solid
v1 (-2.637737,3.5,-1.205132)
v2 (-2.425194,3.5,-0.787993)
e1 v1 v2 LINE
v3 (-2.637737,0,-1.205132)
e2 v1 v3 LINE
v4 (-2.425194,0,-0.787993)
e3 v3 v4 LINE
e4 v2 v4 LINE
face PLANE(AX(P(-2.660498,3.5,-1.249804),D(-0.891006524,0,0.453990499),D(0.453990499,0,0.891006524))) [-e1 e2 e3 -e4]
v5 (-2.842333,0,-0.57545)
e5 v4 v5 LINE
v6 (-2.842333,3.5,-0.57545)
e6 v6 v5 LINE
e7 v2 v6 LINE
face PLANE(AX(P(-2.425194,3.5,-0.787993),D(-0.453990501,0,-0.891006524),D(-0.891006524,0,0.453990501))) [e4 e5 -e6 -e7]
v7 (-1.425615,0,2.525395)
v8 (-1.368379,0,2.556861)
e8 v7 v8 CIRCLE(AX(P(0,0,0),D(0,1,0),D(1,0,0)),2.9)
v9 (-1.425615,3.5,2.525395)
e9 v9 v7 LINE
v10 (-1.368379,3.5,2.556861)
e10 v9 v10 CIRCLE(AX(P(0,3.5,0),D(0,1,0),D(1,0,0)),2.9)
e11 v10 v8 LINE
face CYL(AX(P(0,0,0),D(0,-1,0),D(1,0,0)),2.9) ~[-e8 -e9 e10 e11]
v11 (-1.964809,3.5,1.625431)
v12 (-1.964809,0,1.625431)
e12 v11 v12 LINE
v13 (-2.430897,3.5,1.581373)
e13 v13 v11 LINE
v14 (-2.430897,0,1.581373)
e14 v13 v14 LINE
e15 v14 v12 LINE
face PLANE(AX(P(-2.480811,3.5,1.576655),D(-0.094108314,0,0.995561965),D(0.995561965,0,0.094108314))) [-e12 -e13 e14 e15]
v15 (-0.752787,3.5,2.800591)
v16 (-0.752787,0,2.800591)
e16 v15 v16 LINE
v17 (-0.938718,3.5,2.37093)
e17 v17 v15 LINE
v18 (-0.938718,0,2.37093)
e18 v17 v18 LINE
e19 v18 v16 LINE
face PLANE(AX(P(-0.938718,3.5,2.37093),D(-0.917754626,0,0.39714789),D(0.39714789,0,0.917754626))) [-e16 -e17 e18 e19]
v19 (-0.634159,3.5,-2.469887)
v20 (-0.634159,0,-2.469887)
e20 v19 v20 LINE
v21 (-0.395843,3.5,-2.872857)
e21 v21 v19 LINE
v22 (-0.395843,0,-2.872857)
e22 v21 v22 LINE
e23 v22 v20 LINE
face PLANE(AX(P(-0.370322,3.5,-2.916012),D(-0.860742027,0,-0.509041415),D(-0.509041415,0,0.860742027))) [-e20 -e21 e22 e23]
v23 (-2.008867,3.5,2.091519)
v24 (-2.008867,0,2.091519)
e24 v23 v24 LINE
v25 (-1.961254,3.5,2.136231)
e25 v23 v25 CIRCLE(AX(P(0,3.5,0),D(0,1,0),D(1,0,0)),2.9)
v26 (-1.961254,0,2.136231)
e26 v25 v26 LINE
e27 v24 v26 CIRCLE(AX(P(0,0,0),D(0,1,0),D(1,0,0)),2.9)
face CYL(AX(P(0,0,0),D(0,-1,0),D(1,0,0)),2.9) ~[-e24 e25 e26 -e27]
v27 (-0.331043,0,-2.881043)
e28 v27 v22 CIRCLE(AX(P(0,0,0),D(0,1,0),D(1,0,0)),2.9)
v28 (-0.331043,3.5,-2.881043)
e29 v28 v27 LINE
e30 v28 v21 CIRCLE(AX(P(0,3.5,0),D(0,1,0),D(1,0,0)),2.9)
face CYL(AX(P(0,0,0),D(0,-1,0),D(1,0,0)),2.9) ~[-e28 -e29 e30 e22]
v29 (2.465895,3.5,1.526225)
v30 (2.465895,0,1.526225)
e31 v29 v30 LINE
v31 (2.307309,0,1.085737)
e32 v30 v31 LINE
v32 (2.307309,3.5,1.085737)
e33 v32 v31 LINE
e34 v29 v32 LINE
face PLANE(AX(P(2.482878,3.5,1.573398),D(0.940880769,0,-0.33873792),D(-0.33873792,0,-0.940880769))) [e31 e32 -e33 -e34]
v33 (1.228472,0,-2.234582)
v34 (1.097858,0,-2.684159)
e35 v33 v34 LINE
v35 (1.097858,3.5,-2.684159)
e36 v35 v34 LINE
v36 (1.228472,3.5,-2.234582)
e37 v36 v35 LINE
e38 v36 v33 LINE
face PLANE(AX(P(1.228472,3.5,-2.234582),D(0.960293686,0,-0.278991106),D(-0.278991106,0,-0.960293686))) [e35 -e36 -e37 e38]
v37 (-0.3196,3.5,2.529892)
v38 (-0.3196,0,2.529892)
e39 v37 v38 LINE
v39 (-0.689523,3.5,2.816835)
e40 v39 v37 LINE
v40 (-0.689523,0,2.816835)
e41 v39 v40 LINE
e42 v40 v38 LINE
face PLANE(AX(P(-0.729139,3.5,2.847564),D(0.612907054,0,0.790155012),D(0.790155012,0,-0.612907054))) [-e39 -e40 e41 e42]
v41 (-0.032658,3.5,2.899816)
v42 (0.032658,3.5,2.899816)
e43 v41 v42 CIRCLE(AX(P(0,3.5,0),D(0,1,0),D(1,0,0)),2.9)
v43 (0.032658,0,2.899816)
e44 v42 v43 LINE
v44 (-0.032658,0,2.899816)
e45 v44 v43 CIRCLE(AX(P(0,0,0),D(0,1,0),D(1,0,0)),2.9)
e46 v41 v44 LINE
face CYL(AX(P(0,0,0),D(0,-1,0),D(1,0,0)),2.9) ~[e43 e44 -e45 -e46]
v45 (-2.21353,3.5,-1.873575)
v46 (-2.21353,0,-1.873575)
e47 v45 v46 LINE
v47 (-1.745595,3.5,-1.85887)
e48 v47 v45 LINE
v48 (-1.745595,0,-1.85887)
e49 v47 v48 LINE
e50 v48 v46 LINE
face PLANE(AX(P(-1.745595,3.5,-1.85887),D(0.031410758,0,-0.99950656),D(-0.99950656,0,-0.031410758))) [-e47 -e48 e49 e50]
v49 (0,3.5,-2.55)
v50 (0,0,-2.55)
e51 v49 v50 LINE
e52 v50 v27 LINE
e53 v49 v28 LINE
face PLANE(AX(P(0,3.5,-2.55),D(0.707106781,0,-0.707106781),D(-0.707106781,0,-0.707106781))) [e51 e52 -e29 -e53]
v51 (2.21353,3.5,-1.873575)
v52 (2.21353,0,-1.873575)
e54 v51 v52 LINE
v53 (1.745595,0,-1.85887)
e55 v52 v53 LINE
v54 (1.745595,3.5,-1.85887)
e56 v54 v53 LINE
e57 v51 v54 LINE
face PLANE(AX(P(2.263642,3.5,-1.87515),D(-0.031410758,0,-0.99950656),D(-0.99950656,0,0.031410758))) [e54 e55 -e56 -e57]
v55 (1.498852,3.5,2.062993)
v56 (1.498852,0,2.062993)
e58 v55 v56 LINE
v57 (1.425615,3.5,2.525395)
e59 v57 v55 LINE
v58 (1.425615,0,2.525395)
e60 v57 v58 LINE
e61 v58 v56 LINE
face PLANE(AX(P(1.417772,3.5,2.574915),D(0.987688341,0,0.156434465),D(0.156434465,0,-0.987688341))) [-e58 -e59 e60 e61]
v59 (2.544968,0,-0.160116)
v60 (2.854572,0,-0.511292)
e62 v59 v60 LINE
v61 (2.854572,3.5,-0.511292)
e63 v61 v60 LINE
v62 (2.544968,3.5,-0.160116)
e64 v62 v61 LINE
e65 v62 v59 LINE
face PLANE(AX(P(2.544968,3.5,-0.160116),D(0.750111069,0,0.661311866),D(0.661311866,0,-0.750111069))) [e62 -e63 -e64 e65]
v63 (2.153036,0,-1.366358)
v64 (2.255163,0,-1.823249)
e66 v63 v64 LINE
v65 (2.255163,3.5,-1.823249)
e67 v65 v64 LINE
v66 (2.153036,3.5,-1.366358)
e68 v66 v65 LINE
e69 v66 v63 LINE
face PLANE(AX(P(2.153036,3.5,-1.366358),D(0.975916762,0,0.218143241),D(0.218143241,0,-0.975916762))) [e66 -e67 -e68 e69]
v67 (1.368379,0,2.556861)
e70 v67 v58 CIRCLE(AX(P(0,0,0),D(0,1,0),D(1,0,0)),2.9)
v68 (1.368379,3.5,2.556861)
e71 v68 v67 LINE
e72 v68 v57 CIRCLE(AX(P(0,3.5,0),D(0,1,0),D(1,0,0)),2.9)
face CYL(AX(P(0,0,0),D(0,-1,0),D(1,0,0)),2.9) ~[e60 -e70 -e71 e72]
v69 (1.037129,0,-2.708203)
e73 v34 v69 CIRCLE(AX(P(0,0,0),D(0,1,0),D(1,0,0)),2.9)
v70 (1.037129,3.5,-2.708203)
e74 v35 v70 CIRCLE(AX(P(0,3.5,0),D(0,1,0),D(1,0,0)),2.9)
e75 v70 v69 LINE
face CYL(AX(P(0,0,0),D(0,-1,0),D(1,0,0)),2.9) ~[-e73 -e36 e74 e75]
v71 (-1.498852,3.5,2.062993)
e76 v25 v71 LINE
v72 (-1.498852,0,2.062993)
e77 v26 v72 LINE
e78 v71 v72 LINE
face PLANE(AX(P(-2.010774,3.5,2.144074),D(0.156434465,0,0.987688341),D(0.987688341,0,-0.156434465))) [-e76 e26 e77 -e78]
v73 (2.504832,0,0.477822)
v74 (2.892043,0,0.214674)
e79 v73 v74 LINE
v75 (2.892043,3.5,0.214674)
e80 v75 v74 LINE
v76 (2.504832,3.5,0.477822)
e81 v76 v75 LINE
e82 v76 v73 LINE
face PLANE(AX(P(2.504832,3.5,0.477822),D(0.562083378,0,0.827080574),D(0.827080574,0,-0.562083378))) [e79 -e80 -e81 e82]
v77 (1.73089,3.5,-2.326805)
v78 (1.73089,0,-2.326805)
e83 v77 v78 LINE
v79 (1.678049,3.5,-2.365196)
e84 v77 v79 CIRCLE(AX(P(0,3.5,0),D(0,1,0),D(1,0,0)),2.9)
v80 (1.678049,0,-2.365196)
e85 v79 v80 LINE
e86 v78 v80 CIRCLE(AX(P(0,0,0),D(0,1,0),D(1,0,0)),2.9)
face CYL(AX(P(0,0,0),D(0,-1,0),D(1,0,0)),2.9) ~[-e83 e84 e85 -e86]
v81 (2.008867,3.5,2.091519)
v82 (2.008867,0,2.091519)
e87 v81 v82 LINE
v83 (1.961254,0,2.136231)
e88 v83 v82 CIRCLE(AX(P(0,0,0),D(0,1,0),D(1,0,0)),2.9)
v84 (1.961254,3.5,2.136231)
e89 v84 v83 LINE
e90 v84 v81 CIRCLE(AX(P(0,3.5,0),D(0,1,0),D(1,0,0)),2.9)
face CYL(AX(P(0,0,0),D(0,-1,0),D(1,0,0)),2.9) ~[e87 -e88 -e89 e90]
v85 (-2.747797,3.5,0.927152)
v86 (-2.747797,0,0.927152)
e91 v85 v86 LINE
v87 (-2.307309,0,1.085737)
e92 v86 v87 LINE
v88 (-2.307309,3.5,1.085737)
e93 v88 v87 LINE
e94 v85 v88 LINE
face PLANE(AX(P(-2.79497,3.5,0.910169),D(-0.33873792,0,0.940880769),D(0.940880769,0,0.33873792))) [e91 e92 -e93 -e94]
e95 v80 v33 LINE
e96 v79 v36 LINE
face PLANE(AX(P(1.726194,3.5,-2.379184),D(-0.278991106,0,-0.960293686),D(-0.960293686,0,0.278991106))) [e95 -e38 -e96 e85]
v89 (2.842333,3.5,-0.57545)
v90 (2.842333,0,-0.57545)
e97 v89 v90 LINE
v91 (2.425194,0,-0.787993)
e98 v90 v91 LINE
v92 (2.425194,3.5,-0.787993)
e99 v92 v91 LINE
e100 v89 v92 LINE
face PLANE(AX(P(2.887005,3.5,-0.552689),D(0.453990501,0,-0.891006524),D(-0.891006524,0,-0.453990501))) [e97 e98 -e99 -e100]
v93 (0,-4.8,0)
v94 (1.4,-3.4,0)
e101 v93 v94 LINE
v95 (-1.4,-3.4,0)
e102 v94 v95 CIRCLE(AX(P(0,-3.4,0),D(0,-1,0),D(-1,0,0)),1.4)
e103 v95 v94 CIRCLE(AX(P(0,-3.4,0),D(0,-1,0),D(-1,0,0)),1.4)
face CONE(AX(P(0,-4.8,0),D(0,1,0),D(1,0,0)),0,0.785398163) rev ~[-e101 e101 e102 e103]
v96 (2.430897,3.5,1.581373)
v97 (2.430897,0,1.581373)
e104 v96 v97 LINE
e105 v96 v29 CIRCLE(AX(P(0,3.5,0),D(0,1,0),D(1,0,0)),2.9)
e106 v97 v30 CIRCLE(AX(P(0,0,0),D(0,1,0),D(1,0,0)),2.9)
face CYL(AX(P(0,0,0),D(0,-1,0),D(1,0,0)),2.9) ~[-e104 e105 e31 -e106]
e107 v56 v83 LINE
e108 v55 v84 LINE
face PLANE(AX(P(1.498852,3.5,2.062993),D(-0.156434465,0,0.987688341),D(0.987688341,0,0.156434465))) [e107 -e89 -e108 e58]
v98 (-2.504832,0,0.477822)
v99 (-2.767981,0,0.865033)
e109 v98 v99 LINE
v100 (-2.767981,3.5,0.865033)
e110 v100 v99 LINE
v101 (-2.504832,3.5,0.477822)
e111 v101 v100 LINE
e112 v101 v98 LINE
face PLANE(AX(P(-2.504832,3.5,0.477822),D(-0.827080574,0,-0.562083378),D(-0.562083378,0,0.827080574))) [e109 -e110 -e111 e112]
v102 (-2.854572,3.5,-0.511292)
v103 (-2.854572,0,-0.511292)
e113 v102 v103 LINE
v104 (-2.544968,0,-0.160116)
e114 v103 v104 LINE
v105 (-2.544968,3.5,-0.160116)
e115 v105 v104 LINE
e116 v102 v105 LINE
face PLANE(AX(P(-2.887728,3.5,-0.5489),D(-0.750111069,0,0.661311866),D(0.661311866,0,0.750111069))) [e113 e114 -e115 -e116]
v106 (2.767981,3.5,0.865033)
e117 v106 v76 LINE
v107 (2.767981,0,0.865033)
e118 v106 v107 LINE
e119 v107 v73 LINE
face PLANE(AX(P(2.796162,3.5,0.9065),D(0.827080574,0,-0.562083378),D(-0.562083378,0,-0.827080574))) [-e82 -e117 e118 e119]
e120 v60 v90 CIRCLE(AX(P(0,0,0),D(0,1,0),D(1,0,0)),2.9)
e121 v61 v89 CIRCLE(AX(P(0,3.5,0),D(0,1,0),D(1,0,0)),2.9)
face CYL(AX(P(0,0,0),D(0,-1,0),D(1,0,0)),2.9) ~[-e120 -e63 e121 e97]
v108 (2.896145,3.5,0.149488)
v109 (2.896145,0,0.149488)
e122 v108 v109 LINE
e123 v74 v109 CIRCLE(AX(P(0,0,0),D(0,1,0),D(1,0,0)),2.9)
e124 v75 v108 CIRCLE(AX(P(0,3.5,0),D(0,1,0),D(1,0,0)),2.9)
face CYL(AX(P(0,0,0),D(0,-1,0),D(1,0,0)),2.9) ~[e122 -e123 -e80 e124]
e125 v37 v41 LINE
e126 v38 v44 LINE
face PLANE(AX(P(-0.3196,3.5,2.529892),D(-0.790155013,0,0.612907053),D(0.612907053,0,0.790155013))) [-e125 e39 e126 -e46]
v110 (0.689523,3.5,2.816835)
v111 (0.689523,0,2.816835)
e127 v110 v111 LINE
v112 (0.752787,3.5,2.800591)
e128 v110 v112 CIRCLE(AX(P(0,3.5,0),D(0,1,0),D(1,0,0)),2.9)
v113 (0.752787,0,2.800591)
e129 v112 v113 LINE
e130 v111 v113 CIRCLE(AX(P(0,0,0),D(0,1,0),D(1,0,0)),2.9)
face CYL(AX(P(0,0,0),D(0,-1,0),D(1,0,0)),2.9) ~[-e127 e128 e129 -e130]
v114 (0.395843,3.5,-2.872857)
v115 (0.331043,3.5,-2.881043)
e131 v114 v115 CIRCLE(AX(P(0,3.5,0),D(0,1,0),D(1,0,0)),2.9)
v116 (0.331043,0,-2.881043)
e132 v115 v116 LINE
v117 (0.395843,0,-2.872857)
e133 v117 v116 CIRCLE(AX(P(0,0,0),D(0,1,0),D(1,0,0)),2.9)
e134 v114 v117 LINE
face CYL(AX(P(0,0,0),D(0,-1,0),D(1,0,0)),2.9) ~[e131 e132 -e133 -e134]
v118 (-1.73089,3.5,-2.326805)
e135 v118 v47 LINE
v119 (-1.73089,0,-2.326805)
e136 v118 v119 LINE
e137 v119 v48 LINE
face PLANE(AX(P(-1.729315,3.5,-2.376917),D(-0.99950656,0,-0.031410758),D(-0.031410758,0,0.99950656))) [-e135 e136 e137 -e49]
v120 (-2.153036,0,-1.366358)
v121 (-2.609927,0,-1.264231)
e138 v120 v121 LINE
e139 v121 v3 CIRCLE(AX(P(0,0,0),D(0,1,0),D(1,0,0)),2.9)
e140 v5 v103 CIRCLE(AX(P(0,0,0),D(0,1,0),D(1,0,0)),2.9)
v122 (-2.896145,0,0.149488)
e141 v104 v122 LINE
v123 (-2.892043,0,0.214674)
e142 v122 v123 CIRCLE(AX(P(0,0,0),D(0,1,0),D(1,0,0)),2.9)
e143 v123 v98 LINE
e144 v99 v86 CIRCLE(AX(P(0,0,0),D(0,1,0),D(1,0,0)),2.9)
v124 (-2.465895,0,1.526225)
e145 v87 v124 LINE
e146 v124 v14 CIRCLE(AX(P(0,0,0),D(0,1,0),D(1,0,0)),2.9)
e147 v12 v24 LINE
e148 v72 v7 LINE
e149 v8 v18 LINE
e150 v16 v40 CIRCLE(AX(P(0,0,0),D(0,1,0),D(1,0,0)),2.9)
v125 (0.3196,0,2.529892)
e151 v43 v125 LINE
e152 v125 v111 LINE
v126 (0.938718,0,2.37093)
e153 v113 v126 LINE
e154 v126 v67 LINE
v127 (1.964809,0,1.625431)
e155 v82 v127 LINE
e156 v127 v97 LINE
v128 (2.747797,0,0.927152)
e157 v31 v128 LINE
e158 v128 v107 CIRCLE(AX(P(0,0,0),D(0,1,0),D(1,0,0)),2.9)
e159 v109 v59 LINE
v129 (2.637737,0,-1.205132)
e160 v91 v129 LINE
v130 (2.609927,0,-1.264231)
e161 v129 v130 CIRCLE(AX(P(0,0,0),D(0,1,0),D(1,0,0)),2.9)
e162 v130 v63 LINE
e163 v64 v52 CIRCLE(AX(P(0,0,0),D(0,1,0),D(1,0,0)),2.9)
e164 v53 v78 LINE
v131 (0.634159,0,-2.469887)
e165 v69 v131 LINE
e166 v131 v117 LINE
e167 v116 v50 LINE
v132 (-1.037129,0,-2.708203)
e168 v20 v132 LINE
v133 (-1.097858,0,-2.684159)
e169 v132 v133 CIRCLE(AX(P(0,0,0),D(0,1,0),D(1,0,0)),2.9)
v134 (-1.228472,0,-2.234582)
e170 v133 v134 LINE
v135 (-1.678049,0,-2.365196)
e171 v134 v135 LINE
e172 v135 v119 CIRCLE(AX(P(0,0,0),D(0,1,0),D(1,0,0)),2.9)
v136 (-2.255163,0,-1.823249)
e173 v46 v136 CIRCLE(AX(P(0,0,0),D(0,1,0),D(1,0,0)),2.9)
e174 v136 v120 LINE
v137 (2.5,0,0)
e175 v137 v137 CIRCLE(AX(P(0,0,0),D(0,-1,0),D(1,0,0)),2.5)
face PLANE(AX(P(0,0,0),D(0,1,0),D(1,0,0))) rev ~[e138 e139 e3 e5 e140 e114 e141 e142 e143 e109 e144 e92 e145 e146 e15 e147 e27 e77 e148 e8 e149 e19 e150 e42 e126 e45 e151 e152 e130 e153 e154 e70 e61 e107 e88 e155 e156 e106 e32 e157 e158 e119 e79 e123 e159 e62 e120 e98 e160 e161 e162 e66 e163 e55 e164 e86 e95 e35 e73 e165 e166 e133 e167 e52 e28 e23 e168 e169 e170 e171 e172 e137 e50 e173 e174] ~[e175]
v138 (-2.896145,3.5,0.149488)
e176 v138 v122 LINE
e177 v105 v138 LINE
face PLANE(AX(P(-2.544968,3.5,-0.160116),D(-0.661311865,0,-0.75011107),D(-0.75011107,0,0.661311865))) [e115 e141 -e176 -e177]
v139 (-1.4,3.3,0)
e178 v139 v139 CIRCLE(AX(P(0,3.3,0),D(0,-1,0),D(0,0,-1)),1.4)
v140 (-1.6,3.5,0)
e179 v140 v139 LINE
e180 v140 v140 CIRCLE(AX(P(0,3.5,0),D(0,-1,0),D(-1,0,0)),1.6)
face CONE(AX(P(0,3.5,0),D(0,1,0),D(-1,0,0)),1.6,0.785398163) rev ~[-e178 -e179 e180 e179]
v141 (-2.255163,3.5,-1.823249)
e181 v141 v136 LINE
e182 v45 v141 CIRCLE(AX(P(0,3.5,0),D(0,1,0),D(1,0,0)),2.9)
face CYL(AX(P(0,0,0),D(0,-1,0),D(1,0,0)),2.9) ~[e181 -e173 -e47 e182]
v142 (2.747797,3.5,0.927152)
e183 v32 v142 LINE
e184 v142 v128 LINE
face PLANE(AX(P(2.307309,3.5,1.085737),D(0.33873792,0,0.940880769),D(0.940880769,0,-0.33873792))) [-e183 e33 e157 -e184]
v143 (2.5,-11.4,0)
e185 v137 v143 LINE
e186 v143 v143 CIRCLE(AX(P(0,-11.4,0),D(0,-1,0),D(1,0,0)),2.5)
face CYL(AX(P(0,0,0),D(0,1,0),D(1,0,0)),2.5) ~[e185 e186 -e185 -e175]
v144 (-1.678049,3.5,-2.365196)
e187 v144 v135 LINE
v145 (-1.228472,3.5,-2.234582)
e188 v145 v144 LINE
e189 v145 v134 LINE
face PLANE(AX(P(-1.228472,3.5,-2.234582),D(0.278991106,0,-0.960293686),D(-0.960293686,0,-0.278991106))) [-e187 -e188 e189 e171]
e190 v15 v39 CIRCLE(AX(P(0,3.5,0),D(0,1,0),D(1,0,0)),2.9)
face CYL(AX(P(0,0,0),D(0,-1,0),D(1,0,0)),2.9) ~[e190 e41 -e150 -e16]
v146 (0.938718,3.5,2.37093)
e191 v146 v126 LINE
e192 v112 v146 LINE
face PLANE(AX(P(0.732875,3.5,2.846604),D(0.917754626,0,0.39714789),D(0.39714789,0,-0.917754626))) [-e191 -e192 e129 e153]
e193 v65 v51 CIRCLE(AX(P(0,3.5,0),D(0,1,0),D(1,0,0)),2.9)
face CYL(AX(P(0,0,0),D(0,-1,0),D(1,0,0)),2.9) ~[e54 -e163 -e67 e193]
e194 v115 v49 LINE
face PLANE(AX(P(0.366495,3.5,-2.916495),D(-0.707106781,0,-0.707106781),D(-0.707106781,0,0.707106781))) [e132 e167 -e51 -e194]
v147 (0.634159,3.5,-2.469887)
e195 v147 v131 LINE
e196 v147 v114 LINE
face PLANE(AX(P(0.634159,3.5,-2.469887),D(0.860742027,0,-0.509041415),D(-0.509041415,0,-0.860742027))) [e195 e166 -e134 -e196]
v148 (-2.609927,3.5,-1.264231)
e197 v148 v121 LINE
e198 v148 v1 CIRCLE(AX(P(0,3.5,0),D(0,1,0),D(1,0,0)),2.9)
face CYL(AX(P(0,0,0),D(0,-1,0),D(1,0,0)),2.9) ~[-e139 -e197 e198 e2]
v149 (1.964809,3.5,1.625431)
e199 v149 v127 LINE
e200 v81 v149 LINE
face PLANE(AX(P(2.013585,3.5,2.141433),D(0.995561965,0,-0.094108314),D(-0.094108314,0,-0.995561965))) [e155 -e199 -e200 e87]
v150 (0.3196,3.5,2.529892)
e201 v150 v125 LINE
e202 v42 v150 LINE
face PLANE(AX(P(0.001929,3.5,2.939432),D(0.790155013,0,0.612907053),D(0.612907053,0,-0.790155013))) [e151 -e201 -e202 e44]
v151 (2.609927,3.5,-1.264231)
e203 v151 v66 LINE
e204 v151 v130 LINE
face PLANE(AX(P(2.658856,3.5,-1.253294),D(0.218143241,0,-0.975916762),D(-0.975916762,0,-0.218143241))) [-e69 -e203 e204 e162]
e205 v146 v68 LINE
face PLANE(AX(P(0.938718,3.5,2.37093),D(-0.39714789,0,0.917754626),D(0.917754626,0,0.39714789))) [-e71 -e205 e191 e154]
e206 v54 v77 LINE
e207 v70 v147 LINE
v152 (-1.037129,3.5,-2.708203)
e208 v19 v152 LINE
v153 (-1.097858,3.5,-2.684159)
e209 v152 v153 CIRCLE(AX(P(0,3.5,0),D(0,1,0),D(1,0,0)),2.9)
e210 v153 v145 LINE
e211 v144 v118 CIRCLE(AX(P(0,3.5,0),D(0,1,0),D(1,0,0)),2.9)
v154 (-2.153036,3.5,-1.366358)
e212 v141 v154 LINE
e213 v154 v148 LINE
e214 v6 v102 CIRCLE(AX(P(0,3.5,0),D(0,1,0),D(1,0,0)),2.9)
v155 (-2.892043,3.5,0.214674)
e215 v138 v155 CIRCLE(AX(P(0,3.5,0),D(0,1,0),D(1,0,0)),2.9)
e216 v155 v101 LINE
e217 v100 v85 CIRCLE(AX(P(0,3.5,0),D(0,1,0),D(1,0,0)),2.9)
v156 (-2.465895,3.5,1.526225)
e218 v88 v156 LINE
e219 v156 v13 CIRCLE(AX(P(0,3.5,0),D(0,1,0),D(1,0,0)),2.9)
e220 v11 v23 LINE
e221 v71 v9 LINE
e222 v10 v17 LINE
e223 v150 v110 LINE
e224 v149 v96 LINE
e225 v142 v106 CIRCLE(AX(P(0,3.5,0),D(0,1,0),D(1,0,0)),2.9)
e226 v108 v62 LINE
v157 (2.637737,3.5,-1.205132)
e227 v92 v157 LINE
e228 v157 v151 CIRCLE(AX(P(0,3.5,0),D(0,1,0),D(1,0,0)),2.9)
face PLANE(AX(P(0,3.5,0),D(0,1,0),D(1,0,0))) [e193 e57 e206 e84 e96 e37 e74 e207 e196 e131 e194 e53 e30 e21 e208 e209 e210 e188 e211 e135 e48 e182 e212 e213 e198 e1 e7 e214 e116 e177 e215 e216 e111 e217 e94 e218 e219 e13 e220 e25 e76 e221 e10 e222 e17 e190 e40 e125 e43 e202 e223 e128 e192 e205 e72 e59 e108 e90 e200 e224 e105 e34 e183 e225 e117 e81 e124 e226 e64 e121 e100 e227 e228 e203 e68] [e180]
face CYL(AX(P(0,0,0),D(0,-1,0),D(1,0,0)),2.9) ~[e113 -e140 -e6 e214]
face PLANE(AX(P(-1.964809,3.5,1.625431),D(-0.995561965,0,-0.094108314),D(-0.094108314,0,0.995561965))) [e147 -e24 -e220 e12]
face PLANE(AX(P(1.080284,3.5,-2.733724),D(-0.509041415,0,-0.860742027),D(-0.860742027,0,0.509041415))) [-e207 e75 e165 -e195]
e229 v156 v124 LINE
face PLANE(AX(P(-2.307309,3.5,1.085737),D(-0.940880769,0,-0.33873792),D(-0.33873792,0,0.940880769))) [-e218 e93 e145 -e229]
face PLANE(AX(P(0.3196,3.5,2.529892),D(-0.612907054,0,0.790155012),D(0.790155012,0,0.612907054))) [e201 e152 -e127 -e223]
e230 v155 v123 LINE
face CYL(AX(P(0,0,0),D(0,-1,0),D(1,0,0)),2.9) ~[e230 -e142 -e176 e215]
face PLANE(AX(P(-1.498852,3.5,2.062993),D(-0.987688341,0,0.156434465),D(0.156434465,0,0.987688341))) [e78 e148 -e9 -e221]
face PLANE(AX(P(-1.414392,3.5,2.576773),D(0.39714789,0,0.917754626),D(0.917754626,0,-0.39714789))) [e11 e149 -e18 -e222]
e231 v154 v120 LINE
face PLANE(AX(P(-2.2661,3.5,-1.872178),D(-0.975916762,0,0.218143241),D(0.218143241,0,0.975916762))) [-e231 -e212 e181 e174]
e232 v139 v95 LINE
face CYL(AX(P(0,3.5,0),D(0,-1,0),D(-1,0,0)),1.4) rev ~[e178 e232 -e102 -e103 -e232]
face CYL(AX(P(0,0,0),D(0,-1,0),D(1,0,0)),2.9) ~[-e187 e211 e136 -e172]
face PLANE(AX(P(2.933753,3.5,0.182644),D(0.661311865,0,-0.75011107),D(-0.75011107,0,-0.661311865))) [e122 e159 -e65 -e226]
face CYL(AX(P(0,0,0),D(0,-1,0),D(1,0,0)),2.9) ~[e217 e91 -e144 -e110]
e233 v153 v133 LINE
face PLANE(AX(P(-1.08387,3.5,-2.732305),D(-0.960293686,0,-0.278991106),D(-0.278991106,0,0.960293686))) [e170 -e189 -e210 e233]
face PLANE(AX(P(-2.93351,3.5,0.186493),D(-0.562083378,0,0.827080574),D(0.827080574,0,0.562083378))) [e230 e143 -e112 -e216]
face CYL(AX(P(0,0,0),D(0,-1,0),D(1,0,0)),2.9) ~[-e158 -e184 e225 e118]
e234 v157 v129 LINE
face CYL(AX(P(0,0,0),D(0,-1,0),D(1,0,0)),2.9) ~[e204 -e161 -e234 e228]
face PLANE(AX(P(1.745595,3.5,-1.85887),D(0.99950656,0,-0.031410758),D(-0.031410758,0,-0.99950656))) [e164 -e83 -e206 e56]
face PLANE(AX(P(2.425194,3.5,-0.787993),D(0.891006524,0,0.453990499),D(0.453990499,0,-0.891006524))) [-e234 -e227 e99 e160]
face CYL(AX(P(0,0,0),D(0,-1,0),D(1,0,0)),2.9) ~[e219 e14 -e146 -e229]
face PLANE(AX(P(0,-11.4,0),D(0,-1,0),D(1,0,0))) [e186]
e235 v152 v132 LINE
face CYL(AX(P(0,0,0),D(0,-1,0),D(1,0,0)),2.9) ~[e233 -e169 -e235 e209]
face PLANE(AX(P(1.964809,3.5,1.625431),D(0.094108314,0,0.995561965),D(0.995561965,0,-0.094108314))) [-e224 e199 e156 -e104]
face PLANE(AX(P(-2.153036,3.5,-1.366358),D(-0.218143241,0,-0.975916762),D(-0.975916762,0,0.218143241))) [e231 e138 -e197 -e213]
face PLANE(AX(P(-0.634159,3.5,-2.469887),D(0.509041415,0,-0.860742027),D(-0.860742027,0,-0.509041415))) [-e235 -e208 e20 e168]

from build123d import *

# Parameters (mm, degrees)
SKETCH_1_R                  = 2.9
EXTRUDE_1_DEPTH             = 3.5
SKETCH_2_R                  = 2.5
EXTRUDE_2_DEPTH             = 11.4
CUT_EXTRUDE_1_DEPTH         = 4
HOLE_WIZARD_M32_D           = 2.8
HOLE_WIZARD_M32_DEPTH       = 6.9
HOLE_WIZARD_M32_CSINK_D     = 3.2
HOLE_WIZARD_M32_CSINK_ANGLE = 90
HOLE_WIZARD_M32_TIP         = 1.4


with BuildPart() as part:
    # Эскиз1 → Бобышка-Вытянуть1 (new body)
    with BuildSketch(Plane(origin=(0, 0, 0), x_dir=(1, 0, 0), z_dir=(0, 1, 0))):
        Circle(SKETCH_1_R)
    extrude(amount=EXTRUDE_1_DEPTH)

    # Эскиз2 → Бобышка-Вытянуть2 (add)
    with BuildSketch(Plane.XZ):
        Circle(SKETCH_2_R)
    extrude(amount=EXTRUDE_2_DEPTH)

    # Эскиз3 → Вырез-Вытянуть1 (cut)
    with BuildSketch(Plane(origin=(0, 3.5, 0), x_dir=(1, 0, 0), z_dir=(0, 1, 0))):
        Polygon((0, 2.55), (-0.366495157, 2.916495157), (0.366495157, 2.916495157), align=None)
        Polygon((0.634159212, 2.469887061), (0.370321814, 2.916011738), (1.080283889, 2.733724459), align=None)
        Polygon((1.228471869, 2.234582034), (1.083870103, 2.732304577), (1.726194412, 2.3791838), align=None)
        Polygon((1.74559512, 1.85887), (1.729314848, 2.37691667), (2.263641791, 1.875150272), align=None)
        Polygon((2.15303621, 1.366358327), (2.26610038, 1.872178348), (2.658856231, 1.253294157), align=None)
        Polygon((2.425194117, 0.787993336), (2.660498492, 1.249804175), (2.887004956, 0.55268896), align=None)
        Polygon((2.544968157, 0.160115825), (2.887727699, 0.548900209), (2.933752541, -0.182643716), align=None)
        Polygon((2.504832489, -0.477822352), (2.933510354, -0.186493176), (2.796161665, -0.906500217), align=None)
        Polygon((2.307308984, -1.085737193), (2.794969765, -0.910168509), (2.482877668, -1.573397974), align=None)
        Polygon((1.964808769, -1.625431174), (2.480810946, -1.576654607), (2.013585336, -2.141433351), align=None)
        Polygon((1.498852393, -2.062993336), (2.010773652, -2.144073698), (1.417772031, -2.574914594), align=None)
        Polygon((0.938717609, -2.370930039), (1.414392054, -2.576772752), (0.732874896, -2.846604484), align=None)
        Polygon((0.319599746, -2.529892488), (0.729139002, -2.847563698), (0.001928536, -2.939431745), align=None)
        Polygon((-0.319599746, -2.529892488), (-0.001928536, -2.939431745), (-0.729139002, -2.847563698), align=None)
        Polygon((-0.938717609, -2.370930039), (-0.732874896, -2.846604484), (-1.414392054, -2.576772752), align=None)
        Polygon((-1.498852393, -2.062993336), (-1.417772031, -2.574914594), (-2.010773652, -2.144073698), align=None)
        Polygon((-1.964808769, -1.625431174), (-2.013585336, -2.141433351), (-2.480810946, -1.576654607), align=None)
        Polygon((-2.307308984, -1.085737193), (-2.482877668, -1.573397974), (-2.794969765, -0.910168509), align=None)
        Polygon((-2.504832489, -0.477822352), (-2.796161665, -0.906500217), (-2.933510354, -0.186493176), align=None)
        Polygon((-2.544968157, 0.160115825), (-2.933752541, -0.182643716), (-2.887727699, 0.548900209), align=None)
        Polygon((-2.425194117, 0.787993336), (-2.887004956, 0.55268896), (-2.660498492, 1.249804175), align=None)
        Polygon((-2.15303621, 1.366358327), (-2.658856231, 1.253294157), (-2.26610038, 1.872178348), align=None)
        Polygon((-1.74559512, 1.85887), (-2.263641791, 1.875150272), (-1.729314848, 2.37691667), align=None)
        Polygon((-1.228471869, 2.234582034), (-1.726194412, 2.3791838), (-1.083870103, 2.732304577), align=None)
        Polygon((-0.634159212, 2.469887061), (-1.080283889, 2.733724459), (-0.370321814, 2.916011738), align=None)
    extrude(amount=-CUT_EXTRUDE_1_DEPTH, mode=Mode.SUBTRACT)

    # Сверло под метчик  спиральное M32
    with Locations(Plane(origin=(0, 3.5, 0), x_dir=(1, 0, 0), z_dir=(0, 1, 0))):
        with Locations((0, 0)):
            CounterSinkHole(HOLE_WIZARD_M32_D / 2, HOLE_WIZARD_M32_CSINK_D / 2, depth=HOLE_WIZARD_M32_DEPTH, counter_sink_angle=HOLE_WIZARD_M32_CSINK_ANGLE)
            with Locations((0, 0, -(HOLE_WIZARD_M32_DEPTH + HOLE_WIZARD_M32_TIP / 2))):  # 90° drill point
                Cone(0, HOLE_WIZARD_M32_D / 2, HOLE_WIZARD_M32_TIP, mode=Mode.SUBTRACT)


solid = part.part
